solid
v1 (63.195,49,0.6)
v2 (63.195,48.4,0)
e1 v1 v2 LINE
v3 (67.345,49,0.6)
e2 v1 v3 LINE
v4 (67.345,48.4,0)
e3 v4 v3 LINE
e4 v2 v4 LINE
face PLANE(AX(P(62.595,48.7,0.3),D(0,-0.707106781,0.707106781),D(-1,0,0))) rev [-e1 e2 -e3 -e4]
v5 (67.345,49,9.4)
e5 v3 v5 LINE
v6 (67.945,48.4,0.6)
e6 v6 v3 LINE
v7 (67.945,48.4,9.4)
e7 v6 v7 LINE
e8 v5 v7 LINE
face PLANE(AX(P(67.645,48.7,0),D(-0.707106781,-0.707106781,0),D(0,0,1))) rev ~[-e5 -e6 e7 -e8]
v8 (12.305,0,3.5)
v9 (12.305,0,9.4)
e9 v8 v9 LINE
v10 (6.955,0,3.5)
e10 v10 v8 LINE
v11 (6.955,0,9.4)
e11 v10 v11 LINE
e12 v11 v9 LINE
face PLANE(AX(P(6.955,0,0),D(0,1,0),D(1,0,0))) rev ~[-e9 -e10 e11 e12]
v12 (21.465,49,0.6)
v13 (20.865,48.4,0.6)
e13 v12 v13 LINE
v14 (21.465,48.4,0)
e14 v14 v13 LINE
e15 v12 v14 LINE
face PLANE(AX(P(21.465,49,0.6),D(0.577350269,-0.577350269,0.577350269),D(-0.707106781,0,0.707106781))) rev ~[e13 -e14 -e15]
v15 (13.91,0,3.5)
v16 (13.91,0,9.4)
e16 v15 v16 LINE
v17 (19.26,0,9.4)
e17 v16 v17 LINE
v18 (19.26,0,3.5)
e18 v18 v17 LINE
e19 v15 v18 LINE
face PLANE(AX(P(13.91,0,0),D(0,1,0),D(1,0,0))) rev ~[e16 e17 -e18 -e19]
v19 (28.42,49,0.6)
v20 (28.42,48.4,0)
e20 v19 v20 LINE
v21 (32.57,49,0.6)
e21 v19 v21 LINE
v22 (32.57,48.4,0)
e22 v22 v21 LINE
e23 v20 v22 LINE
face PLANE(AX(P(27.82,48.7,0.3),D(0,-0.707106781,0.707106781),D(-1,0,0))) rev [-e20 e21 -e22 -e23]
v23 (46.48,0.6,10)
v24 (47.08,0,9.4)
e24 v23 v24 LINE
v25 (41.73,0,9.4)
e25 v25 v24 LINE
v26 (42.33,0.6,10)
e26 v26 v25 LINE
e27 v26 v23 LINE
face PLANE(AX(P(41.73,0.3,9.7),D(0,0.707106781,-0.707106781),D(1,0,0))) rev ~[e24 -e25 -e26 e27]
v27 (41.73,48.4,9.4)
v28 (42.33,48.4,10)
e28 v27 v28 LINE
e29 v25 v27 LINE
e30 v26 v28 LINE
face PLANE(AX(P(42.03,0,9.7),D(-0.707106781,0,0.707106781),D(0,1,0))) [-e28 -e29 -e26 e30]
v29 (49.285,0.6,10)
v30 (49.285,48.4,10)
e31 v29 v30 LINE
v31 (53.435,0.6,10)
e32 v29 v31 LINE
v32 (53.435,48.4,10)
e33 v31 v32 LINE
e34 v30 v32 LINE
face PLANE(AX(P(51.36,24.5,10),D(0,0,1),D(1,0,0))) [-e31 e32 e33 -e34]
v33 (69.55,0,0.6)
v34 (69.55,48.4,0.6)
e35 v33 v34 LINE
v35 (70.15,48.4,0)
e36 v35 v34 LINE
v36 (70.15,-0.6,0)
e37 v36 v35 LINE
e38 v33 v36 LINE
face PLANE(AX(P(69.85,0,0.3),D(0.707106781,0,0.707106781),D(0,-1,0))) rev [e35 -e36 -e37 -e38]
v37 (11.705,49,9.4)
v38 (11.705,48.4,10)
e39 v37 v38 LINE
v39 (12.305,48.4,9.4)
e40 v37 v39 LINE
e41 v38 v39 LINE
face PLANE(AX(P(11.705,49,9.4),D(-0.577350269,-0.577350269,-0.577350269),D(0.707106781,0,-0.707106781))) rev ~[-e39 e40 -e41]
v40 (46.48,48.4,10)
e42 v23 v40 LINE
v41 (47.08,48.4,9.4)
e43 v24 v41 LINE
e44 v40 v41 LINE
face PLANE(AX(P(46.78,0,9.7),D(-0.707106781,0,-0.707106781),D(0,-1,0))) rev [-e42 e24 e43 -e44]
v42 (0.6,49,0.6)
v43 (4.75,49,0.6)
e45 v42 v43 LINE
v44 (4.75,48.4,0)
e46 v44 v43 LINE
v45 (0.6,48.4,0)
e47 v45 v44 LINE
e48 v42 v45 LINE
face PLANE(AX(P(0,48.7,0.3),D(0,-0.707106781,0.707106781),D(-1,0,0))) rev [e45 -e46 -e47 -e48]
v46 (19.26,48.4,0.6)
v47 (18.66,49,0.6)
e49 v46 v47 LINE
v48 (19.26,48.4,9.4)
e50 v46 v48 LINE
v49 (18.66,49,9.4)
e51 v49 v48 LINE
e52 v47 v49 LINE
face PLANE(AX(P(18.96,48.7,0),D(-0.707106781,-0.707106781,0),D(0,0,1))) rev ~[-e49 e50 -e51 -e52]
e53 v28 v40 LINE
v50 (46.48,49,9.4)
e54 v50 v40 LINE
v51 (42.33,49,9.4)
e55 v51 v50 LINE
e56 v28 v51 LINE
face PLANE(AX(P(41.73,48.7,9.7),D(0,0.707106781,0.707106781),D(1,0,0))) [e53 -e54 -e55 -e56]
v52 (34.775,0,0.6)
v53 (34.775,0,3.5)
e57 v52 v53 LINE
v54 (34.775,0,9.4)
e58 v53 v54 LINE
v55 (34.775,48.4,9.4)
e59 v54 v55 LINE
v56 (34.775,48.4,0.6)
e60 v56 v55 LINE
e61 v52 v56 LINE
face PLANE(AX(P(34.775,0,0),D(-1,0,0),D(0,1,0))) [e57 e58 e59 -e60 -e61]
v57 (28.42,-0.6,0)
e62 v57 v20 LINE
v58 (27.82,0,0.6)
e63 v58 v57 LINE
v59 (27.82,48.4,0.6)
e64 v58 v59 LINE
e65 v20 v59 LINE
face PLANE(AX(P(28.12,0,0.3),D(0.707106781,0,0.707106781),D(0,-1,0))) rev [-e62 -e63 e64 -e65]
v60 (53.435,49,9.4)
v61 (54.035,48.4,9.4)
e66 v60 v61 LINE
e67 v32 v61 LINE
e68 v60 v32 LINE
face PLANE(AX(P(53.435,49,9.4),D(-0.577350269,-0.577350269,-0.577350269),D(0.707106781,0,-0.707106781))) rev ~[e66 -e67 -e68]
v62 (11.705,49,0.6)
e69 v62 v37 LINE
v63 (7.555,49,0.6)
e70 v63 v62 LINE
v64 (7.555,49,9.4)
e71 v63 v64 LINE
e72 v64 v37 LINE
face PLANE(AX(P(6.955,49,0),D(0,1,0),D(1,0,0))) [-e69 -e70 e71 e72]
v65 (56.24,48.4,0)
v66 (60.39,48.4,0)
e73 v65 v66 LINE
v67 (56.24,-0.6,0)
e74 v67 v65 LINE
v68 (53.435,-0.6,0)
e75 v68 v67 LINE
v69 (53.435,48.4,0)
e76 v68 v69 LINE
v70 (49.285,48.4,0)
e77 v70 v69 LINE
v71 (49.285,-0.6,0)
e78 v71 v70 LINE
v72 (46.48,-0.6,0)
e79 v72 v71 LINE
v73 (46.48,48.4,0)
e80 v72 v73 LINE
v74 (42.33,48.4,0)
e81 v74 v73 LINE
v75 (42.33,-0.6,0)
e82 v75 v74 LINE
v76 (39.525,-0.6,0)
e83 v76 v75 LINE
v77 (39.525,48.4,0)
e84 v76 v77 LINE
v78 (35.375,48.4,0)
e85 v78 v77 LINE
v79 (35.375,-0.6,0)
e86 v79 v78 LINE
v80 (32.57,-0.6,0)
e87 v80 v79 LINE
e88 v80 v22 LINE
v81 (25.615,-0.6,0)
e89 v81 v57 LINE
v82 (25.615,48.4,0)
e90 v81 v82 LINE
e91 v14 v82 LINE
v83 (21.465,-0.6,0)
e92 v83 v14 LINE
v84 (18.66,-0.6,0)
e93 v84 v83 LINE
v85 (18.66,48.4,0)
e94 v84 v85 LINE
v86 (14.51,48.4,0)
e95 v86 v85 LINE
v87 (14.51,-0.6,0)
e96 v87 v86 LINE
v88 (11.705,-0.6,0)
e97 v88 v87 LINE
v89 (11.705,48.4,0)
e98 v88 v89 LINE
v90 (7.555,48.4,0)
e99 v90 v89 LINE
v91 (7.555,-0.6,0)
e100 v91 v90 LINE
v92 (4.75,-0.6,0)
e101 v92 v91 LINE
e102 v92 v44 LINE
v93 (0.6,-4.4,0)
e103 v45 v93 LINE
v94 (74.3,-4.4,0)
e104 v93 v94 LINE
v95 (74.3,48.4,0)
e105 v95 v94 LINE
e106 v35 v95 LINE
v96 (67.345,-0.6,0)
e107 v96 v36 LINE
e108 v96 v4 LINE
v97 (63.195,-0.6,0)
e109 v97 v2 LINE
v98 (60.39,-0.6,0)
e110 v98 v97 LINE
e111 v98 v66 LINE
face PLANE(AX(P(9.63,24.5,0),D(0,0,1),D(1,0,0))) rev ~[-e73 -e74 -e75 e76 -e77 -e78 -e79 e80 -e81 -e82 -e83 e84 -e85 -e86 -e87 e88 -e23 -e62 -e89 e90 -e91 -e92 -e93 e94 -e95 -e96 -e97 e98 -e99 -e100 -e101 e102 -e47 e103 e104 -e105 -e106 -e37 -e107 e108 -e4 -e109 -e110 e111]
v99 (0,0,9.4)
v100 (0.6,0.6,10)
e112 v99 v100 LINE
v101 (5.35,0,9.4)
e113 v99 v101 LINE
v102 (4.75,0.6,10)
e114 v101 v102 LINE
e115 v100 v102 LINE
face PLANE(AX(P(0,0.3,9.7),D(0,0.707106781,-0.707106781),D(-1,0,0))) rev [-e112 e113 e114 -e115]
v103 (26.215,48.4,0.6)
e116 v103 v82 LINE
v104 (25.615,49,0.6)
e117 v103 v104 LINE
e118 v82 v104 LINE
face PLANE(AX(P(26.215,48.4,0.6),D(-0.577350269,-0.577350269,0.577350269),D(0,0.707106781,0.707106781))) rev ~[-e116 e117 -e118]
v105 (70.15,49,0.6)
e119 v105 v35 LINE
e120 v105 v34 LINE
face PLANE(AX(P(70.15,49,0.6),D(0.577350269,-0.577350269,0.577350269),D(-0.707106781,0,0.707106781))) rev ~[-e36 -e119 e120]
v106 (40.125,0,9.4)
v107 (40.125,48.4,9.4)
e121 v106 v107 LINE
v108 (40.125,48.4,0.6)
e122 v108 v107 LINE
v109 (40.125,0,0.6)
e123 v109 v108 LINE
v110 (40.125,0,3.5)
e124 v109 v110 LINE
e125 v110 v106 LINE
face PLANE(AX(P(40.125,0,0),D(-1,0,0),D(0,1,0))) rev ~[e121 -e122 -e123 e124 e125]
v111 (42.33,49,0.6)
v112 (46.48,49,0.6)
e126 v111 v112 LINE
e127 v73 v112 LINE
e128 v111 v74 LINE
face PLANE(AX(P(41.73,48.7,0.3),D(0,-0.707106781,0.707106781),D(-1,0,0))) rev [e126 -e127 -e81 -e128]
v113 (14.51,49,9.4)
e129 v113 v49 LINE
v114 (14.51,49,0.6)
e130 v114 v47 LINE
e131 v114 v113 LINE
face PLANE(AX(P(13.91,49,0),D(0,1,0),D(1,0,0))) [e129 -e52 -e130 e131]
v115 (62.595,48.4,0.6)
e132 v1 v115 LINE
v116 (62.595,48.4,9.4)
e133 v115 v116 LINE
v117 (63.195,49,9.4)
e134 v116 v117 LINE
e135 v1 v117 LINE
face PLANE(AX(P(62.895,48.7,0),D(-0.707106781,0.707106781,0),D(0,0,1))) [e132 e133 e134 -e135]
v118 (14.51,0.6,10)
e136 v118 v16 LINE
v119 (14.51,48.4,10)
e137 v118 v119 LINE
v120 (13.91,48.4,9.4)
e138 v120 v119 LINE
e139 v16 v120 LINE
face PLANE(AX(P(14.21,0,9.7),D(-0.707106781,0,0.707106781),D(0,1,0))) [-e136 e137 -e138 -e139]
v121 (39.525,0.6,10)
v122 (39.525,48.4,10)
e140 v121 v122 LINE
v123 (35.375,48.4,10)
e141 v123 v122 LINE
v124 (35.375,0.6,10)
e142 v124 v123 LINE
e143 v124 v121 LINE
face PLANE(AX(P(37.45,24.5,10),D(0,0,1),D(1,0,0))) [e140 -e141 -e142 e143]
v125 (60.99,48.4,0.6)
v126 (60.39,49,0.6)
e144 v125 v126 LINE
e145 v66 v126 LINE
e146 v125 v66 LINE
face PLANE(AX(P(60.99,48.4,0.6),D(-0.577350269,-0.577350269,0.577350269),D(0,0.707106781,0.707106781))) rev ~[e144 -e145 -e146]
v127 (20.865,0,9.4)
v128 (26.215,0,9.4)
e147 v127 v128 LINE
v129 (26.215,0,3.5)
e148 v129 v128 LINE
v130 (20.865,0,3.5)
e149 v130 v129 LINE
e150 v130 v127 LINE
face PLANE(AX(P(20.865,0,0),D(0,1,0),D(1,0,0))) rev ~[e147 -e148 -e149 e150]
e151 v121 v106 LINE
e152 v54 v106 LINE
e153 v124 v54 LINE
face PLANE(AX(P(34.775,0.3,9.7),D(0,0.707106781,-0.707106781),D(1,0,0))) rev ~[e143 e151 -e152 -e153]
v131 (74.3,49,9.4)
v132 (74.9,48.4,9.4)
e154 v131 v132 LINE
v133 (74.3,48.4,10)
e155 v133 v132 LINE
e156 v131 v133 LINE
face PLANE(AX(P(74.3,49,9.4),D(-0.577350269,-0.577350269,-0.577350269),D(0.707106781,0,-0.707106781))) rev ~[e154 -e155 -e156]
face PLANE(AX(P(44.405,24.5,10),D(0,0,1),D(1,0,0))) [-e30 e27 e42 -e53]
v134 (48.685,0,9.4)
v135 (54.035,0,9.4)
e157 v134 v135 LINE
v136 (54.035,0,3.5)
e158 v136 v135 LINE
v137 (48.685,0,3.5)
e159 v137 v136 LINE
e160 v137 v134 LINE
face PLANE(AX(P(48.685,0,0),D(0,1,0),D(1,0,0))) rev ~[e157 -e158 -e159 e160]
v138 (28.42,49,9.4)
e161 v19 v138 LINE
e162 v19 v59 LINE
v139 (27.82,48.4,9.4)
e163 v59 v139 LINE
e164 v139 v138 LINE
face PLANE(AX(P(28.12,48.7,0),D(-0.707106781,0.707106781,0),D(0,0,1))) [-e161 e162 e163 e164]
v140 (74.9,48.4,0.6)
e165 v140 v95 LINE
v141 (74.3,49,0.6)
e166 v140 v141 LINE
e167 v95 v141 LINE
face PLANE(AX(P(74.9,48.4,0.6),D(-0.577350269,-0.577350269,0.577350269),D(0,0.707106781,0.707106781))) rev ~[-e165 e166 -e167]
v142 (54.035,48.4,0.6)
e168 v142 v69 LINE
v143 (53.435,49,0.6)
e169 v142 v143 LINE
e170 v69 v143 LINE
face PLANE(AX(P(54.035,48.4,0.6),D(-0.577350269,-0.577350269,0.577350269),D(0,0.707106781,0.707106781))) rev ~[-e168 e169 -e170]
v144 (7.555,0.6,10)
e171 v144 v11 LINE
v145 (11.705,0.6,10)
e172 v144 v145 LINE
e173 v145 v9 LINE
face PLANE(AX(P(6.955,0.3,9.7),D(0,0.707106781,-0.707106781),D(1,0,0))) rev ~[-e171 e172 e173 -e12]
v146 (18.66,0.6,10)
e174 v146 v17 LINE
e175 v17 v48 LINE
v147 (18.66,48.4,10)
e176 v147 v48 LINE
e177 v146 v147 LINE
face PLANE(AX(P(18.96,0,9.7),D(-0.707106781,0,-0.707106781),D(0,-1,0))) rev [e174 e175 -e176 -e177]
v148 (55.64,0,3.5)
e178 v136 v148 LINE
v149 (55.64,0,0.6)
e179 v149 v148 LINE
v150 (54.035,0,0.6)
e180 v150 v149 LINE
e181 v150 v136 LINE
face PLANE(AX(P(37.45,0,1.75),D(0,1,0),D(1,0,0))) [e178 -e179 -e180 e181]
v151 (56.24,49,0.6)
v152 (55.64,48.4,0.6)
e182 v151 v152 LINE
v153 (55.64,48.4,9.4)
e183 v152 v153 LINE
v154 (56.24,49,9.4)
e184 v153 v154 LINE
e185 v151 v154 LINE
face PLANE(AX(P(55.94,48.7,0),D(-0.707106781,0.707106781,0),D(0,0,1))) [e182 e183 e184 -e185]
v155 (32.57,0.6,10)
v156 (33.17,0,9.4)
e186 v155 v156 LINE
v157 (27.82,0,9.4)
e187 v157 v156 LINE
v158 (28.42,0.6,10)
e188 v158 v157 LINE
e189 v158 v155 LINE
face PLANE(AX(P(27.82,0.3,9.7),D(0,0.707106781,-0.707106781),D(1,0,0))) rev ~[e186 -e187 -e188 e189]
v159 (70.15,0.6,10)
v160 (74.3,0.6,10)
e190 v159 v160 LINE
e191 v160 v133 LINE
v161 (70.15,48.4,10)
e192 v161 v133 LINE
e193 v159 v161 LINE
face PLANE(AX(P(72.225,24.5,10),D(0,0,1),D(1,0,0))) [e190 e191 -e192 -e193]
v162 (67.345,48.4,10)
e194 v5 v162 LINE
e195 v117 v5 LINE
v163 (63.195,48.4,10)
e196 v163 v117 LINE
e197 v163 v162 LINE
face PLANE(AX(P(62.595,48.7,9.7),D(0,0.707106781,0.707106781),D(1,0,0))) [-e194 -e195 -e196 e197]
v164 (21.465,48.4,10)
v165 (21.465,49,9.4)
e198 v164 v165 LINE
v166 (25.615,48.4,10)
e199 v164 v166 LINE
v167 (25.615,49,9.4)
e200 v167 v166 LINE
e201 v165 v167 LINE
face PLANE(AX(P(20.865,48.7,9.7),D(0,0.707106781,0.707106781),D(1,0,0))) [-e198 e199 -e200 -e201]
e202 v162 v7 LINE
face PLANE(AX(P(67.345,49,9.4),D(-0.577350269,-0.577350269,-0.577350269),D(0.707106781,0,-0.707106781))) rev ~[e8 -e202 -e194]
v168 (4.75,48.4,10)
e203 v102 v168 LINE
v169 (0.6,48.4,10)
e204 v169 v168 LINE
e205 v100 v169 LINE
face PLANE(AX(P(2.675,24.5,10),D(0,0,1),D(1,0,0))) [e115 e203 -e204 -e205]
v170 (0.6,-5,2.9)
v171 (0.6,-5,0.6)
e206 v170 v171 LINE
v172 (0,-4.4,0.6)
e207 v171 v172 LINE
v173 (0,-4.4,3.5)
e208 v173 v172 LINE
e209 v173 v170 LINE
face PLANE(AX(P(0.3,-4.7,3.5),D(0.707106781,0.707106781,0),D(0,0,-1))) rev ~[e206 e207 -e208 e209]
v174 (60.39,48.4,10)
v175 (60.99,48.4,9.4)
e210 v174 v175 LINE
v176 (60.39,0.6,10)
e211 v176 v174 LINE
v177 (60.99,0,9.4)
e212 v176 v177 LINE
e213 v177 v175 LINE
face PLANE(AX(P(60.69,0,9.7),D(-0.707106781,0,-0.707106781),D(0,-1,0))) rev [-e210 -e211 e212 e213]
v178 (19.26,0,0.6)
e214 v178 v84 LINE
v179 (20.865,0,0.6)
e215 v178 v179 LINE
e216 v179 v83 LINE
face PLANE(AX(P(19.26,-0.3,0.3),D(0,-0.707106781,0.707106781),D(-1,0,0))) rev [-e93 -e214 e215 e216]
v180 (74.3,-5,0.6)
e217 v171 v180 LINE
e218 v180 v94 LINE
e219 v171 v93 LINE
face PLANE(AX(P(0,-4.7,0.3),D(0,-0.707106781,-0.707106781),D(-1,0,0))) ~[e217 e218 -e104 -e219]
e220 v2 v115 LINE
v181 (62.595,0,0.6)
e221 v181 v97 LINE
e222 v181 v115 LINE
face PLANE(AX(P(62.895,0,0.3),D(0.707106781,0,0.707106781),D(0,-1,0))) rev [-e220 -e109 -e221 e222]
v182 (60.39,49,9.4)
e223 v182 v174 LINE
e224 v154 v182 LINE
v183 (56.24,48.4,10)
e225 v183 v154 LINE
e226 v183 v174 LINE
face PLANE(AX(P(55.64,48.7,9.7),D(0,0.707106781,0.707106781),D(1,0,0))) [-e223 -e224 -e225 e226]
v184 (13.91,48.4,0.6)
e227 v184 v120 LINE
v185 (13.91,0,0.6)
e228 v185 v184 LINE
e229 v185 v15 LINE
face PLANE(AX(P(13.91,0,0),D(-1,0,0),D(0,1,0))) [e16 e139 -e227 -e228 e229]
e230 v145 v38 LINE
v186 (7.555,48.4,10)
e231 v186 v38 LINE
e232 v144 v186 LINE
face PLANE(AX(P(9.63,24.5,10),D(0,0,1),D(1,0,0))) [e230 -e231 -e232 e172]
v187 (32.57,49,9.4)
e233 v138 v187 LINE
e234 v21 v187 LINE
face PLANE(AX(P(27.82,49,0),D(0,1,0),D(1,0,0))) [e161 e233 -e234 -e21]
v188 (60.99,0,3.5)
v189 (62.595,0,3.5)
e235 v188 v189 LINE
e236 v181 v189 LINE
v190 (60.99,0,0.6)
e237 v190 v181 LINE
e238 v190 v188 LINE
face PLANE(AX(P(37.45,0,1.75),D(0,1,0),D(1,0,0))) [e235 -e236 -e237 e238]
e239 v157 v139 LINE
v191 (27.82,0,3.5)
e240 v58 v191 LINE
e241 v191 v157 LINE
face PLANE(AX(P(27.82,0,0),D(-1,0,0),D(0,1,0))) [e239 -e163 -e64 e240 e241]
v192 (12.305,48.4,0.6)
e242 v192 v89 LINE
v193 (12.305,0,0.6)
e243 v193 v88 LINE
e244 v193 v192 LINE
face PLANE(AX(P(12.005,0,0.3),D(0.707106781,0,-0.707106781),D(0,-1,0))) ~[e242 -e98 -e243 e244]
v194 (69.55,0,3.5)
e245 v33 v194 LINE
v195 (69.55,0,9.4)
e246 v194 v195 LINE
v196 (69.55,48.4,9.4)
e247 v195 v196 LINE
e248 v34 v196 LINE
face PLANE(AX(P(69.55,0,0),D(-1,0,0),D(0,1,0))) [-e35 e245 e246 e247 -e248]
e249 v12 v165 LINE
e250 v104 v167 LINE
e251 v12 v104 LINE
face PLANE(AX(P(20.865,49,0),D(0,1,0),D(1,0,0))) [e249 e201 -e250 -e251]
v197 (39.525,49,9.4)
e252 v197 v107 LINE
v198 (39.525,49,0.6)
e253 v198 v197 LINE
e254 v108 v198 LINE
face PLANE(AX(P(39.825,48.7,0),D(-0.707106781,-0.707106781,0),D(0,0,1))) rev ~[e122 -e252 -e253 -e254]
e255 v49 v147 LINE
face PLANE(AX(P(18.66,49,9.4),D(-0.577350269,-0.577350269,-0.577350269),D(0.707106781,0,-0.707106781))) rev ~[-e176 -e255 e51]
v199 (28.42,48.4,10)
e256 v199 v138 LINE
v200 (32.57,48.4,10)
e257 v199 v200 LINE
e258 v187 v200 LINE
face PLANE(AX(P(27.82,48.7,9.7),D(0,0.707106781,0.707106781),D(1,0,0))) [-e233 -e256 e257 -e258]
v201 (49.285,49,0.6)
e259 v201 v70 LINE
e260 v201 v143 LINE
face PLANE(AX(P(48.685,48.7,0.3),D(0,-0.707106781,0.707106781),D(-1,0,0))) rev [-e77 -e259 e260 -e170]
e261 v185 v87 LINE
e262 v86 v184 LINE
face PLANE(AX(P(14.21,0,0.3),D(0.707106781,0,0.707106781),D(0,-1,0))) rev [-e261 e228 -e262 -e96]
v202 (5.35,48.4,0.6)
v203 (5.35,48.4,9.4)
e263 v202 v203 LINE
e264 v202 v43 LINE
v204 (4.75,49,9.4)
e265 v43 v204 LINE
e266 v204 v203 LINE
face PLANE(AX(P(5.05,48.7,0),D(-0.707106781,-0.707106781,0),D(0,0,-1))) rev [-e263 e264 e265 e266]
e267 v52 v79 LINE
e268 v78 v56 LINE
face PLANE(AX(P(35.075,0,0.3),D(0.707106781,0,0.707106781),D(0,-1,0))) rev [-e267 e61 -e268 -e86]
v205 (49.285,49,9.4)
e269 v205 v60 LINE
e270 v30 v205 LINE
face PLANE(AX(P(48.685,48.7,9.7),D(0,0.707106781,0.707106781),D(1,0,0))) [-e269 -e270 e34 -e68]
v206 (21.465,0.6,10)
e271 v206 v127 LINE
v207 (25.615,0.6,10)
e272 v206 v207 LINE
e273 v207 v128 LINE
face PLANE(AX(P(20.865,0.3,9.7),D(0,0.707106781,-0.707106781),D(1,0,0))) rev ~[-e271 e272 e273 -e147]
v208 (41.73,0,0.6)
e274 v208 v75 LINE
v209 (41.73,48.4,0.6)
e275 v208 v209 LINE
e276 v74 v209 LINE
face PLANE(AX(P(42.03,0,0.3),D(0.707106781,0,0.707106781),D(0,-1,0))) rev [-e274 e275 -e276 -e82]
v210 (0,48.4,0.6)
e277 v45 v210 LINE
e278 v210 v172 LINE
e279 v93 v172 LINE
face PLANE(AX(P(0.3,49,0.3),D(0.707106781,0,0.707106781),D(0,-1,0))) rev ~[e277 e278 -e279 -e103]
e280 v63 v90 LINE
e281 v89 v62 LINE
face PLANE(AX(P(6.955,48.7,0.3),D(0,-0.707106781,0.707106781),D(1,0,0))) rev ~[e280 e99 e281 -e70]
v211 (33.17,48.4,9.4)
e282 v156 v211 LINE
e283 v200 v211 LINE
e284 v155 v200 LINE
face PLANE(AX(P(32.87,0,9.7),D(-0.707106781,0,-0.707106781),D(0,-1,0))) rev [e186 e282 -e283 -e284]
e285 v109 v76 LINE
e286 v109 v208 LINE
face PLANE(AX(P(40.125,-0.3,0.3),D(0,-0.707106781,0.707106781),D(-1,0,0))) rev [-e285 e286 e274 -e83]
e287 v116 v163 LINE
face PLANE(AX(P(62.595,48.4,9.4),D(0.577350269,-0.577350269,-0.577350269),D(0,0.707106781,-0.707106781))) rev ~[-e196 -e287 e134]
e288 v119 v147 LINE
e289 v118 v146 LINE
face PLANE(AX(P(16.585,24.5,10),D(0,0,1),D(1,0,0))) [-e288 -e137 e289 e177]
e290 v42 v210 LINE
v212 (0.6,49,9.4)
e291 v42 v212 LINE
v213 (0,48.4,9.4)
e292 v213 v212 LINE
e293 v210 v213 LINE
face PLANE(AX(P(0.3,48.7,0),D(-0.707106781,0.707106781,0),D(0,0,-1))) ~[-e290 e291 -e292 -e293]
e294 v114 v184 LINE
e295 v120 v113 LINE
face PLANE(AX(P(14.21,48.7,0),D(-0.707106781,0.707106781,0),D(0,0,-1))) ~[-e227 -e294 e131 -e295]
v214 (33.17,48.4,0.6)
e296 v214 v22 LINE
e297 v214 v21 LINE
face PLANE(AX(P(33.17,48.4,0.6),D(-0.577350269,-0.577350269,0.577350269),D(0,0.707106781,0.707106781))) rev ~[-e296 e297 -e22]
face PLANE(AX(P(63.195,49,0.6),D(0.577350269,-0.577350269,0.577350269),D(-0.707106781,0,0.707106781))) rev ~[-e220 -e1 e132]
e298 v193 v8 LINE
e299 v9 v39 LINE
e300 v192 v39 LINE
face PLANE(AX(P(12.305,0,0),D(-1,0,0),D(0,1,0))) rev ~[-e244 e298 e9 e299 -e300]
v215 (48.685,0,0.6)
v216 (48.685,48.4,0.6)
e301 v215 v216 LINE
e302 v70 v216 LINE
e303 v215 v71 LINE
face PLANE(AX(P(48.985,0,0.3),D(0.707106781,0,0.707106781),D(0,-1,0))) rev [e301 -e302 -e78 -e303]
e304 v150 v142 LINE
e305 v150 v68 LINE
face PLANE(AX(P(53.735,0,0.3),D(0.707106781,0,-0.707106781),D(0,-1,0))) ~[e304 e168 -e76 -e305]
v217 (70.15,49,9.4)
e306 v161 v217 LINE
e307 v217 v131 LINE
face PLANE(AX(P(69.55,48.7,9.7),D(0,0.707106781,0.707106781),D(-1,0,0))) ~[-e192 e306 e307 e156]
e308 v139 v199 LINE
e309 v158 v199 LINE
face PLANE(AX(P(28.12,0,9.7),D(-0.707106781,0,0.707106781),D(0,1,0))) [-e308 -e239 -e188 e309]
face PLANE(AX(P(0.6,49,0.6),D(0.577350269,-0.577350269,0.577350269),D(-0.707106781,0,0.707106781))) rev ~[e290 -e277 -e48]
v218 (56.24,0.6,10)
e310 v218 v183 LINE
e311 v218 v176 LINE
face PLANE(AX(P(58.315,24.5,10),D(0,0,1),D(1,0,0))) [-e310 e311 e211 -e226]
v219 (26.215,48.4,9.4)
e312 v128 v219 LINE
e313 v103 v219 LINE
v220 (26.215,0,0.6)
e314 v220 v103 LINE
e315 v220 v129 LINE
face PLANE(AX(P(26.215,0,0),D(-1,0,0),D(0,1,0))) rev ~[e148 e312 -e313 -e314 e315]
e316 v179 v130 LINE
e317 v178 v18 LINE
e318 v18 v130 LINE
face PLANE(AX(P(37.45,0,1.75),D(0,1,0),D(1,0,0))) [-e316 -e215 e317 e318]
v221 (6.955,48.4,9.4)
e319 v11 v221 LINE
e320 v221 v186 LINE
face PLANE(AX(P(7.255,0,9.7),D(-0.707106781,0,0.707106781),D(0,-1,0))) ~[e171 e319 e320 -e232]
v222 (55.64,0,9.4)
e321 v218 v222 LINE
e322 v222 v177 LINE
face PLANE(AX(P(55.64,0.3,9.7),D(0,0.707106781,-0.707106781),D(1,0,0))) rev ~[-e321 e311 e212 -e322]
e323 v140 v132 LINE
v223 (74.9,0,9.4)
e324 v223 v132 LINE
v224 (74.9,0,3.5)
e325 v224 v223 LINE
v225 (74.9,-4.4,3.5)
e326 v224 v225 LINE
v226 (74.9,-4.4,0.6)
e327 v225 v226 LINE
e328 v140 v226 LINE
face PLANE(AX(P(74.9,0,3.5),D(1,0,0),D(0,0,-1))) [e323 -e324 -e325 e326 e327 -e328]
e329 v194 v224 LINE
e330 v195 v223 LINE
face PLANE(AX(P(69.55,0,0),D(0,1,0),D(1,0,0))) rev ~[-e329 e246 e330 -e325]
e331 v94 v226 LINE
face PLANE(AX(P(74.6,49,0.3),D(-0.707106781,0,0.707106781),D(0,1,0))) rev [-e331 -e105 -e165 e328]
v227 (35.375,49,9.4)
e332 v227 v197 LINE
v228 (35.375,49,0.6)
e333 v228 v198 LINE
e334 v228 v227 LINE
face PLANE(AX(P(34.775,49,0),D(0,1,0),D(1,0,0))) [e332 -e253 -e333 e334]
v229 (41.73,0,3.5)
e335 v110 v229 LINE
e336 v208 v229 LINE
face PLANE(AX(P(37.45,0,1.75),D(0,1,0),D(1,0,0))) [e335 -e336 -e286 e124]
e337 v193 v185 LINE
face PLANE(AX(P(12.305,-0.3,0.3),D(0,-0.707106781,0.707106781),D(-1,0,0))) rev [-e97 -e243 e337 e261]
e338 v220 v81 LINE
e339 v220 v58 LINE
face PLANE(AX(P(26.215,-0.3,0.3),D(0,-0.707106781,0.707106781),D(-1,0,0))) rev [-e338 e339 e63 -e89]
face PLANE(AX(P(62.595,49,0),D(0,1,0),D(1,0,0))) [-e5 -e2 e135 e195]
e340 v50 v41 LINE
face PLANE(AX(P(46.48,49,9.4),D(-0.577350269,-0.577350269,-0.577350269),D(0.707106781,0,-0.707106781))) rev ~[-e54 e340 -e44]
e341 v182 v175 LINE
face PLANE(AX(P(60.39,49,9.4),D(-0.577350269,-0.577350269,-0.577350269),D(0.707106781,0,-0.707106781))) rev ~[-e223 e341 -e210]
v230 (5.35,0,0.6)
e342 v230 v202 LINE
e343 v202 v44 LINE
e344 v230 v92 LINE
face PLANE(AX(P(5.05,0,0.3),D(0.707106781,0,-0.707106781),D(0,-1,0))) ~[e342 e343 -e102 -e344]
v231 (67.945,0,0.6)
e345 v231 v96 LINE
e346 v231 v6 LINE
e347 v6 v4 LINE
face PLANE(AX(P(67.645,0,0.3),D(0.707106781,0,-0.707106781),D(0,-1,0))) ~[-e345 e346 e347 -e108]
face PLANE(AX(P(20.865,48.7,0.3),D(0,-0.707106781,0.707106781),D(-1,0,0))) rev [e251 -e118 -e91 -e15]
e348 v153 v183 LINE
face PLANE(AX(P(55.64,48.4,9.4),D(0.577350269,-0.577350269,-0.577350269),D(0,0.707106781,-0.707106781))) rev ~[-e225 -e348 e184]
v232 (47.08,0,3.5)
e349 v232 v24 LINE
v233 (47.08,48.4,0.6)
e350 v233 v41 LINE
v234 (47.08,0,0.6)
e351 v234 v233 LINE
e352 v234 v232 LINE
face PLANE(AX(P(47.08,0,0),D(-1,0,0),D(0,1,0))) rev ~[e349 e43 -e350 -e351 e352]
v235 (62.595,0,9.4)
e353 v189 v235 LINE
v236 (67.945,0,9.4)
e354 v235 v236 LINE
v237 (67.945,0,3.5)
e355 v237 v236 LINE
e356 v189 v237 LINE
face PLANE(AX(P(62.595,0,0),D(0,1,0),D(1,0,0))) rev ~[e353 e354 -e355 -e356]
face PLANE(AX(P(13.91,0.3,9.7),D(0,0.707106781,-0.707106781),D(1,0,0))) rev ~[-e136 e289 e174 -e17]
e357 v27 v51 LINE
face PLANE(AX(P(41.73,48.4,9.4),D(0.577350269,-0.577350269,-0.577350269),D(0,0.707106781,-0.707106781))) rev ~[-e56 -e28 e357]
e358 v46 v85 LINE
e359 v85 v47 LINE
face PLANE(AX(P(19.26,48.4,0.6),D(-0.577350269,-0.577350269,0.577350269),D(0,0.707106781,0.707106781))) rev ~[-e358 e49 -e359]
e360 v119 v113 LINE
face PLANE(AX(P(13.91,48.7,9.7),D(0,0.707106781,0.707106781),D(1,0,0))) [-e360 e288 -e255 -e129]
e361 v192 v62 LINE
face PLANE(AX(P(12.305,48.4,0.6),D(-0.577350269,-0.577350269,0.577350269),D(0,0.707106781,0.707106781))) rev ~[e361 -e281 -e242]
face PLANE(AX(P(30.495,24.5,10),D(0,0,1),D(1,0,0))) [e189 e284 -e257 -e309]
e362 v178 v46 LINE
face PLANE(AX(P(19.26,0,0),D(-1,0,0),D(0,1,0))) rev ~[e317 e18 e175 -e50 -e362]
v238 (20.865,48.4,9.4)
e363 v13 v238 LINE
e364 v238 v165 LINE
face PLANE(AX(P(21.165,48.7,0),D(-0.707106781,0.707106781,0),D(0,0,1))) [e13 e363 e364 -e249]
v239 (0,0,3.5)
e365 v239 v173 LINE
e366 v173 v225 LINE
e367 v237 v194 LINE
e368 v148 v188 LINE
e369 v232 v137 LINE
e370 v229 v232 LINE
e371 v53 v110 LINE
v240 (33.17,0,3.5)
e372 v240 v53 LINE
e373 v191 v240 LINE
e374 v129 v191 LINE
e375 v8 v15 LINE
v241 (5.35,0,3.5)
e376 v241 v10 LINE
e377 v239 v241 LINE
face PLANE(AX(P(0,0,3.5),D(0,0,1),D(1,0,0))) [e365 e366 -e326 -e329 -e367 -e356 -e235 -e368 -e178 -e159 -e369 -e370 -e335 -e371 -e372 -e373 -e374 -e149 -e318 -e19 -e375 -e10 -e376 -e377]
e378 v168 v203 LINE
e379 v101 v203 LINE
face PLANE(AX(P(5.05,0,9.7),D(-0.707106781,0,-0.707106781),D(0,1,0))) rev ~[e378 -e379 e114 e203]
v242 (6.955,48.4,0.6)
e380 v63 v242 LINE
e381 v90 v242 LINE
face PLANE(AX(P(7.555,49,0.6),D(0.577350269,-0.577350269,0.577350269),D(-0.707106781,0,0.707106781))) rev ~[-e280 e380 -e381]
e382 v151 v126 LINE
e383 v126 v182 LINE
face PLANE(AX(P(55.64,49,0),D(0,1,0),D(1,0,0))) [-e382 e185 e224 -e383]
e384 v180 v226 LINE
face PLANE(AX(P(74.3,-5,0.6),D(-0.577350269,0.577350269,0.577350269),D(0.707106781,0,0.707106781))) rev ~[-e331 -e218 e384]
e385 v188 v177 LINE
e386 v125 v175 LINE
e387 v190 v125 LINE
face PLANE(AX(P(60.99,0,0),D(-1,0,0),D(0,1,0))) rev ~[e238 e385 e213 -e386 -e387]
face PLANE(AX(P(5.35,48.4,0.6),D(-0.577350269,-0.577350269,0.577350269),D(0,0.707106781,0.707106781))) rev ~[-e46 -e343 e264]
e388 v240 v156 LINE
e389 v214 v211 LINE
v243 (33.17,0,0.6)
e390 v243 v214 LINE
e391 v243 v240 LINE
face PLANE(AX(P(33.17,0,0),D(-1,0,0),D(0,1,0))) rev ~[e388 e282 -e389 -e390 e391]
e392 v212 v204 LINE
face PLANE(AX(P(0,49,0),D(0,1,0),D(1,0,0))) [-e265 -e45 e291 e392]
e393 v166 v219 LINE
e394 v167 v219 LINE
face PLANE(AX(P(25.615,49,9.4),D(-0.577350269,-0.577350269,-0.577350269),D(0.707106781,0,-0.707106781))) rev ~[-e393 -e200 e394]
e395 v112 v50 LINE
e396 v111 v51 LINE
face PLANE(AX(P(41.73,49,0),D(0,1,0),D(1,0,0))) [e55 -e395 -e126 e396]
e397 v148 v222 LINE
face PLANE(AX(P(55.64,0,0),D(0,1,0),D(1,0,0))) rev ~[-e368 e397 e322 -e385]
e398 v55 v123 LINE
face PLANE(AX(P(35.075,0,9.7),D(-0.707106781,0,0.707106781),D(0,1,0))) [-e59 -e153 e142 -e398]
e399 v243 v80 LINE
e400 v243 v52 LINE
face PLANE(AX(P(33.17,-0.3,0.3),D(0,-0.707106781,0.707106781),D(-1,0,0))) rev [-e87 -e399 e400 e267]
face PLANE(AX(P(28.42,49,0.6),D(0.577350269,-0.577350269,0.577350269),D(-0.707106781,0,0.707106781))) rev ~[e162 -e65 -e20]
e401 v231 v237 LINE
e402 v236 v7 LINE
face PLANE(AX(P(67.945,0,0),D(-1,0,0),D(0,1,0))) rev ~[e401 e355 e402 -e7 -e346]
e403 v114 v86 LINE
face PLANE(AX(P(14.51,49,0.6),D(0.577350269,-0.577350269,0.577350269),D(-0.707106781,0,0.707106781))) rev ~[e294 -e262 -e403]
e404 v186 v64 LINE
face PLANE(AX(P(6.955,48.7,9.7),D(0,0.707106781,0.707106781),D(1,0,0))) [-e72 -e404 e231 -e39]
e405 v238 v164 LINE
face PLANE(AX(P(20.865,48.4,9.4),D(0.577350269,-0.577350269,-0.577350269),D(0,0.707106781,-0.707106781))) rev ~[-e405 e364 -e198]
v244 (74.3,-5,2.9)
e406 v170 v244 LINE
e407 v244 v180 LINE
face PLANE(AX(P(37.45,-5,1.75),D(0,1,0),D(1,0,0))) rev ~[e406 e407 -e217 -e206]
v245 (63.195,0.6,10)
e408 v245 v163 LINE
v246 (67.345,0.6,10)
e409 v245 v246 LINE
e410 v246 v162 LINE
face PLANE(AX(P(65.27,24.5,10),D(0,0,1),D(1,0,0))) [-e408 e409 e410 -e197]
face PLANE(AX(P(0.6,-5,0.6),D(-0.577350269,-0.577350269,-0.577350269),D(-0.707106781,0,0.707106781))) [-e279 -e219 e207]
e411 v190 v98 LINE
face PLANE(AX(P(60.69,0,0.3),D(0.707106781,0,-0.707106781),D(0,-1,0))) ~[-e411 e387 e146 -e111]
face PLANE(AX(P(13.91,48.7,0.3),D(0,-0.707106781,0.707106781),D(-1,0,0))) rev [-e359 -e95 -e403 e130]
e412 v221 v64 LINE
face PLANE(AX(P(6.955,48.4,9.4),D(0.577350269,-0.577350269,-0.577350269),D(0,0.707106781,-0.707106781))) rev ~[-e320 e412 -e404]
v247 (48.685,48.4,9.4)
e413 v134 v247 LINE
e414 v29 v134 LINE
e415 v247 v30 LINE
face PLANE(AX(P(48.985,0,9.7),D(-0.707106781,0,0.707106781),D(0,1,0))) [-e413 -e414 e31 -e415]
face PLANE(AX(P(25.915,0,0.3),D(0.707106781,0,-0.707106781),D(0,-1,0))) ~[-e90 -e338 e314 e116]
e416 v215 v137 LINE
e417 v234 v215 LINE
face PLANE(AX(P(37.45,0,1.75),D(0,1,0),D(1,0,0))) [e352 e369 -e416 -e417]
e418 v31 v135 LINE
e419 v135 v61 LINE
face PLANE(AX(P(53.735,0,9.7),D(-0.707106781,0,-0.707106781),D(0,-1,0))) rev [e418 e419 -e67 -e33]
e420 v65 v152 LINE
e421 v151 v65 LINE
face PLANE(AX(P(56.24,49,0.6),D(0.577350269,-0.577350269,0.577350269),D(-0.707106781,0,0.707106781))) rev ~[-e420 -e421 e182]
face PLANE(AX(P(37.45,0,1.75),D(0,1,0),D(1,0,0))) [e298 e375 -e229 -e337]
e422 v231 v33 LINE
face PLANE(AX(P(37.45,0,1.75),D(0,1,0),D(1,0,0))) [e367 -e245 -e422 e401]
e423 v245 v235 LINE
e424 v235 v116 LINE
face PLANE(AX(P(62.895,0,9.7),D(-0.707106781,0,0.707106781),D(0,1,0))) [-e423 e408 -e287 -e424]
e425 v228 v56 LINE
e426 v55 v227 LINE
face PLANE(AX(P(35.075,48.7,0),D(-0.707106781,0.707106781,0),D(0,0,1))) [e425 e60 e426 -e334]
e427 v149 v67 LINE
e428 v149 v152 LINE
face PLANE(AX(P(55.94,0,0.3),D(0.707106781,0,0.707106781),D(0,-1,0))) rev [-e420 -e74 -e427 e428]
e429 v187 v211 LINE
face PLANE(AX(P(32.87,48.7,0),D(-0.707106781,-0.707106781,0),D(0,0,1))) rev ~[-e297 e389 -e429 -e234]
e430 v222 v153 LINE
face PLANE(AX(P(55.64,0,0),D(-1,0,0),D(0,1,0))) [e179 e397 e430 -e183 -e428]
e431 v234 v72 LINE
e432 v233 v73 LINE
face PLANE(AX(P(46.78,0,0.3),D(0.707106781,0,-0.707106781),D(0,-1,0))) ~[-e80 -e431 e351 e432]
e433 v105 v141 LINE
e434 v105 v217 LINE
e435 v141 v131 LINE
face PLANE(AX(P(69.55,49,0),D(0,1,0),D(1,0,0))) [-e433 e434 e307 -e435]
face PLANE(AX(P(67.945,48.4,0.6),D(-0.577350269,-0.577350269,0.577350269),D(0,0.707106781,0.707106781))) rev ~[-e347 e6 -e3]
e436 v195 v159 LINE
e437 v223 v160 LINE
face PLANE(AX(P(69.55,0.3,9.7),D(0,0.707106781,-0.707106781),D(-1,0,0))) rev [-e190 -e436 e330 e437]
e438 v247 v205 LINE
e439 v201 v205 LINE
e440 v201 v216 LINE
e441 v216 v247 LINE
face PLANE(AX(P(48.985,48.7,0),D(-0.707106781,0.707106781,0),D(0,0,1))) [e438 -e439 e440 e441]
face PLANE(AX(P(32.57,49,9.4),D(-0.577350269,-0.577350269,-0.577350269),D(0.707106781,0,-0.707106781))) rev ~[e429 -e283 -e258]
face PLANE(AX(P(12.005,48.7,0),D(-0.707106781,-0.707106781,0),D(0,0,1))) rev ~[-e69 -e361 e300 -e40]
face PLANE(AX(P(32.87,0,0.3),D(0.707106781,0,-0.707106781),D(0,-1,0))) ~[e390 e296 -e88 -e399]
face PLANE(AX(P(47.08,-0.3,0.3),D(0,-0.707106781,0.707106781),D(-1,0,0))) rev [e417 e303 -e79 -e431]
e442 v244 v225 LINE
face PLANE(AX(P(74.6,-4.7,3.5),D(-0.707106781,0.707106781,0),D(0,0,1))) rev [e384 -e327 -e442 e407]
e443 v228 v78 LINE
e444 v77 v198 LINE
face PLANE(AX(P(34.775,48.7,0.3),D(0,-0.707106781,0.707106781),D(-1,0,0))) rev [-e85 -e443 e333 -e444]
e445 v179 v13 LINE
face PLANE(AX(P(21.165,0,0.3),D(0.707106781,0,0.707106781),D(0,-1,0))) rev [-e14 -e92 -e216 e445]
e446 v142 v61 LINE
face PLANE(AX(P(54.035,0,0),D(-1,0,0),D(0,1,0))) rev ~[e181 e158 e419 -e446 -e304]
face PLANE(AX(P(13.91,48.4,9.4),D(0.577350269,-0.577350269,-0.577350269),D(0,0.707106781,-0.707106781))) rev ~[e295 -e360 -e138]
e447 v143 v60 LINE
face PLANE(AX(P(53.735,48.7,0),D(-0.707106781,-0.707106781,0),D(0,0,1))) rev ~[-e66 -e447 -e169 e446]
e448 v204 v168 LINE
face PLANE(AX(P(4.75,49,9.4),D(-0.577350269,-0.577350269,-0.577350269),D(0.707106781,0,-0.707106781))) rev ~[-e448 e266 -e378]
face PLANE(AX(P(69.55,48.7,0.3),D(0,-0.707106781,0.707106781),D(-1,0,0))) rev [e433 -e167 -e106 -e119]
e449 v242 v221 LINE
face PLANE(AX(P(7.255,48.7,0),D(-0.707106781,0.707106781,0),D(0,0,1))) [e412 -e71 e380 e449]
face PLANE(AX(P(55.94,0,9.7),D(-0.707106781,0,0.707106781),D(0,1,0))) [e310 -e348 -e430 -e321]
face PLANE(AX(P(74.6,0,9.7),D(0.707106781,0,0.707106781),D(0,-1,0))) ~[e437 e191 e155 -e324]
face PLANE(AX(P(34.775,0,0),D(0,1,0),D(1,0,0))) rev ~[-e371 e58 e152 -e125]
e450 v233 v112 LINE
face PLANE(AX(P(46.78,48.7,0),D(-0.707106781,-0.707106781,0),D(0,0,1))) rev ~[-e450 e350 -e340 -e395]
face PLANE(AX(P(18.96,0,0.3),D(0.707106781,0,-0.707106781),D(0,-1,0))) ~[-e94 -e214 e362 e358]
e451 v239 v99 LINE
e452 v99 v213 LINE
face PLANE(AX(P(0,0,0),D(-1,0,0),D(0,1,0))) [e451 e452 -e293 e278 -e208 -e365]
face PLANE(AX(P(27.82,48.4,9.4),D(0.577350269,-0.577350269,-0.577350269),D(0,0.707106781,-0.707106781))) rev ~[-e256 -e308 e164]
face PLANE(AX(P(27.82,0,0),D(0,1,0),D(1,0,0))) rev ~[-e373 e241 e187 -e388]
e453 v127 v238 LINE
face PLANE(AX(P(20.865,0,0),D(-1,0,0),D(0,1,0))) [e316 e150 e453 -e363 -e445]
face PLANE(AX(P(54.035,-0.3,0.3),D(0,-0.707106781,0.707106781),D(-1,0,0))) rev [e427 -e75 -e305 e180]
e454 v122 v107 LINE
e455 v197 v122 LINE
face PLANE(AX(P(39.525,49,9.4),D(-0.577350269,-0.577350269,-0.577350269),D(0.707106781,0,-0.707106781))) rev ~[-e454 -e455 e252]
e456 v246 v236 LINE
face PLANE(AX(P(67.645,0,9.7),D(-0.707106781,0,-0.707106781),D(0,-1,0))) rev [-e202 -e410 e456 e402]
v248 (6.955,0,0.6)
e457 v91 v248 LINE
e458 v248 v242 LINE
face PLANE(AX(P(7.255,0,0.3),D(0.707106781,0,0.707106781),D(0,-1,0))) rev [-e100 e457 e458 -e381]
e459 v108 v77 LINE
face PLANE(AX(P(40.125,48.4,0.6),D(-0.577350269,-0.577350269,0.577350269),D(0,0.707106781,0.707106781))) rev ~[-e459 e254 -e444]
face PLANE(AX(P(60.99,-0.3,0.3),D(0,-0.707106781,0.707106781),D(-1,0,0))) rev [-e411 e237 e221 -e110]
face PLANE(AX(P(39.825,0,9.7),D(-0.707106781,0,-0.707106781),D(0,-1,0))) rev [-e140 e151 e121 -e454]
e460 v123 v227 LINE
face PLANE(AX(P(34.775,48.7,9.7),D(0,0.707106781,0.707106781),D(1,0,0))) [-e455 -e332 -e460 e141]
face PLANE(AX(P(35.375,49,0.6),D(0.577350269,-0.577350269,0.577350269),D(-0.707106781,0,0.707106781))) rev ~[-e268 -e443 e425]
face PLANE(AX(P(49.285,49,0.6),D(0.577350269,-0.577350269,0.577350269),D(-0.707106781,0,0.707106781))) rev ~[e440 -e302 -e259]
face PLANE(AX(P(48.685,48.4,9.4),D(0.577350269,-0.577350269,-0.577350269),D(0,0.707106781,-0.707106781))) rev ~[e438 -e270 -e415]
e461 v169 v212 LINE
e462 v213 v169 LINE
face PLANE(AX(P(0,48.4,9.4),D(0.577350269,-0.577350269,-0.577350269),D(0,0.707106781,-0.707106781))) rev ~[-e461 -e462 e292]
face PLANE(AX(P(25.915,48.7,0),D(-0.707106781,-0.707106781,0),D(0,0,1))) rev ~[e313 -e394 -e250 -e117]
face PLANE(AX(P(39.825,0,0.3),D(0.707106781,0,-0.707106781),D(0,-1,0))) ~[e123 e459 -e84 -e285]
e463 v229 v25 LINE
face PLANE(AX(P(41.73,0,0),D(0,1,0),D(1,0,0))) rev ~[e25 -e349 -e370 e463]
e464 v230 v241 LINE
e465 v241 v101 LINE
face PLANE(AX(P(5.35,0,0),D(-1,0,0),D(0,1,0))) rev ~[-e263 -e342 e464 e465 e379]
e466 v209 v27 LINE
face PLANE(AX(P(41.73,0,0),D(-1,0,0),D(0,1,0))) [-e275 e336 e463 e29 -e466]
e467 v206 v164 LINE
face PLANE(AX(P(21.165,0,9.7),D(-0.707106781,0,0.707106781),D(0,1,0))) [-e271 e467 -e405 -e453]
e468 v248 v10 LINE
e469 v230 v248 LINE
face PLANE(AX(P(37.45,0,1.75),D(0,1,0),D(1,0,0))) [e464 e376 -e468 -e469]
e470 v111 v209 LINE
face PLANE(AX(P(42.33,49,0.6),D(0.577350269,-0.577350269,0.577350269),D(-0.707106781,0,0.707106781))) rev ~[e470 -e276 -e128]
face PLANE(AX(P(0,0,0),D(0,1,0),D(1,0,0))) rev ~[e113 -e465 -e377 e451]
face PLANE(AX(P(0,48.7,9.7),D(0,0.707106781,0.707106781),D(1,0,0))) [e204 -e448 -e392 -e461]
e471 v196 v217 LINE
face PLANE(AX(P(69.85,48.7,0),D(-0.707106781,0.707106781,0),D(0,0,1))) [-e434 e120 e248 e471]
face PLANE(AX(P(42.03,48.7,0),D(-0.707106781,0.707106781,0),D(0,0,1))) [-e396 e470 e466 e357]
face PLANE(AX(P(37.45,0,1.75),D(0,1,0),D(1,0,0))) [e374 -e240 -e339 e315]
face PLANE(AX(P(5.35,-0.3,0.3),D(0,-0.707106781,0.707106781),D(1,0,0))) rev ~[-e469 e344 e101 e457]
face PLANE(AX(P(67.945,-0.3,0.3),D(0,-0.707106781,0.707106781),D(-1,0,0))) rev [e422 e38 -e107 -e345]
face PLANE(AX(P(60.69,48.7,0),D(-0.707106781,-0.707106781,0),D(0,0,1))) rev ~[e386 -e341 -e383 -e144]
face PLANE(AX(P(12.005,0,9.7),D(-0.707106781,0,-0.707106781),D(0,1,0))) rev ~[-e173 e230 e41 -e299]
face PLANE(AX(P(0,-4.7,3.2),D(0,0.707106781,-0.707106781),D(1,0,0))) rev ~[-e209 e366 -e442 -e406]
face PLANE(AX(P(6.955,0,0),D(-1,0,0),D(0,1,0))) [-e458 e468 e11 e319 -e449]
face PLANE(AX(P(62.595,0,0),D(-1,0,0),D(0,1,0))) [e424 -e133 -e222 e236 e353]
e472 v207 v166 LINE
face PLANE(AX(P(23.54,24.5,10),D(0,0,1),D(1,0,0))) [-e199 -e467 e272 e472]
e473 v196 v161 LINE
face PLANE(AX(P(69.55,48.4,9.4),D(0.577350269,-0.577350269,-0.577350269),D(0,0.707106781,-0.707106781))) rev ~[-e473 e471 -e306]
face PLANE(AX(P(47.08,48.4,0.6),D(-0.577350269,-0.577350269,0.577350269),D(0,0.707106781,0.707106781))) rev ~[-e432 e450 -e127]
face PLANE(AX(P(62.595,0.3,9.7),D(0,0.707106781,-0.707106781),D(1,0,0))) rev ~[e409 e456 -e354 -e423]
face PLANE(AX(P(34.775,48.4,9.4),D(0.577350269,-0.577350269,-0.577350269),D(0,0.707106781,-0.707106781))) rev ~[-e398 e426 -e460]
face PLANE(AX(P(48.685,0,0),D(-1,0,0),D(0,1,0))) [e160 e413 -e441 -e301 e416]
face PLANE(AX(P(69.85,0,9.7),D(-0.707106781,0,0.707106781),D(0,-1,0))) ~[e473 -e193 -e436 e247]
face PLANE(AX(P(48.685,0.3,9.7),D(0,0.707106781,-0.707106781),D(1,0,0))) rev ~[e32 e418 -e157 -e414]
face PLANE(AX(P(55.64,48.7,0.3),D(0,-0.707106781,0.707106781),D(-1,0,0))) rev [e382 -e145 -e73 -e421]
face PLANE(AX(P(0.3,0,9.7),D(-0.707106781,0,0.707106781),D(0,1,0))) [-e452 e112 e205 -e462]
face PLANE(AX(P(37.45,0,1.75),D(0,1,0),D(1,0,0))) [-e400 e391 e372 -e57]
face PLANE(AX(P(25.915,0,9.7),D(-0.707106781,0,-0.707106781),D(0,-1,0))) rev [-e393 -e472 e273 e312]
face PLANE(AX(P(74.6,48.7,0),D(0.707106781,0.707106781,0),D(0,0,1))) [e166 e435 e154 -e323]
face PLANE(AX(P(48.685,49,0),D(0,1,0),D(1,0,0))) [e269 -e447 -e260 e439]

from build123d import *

# Parameters (mm, degrees)
SKETCH015_W             = 74.9
SKETCH015_H             = 3.5
PAD002_DEPTH            = 5
SKETCH017_W             = 5.35
SKETCH017_H             = 49
PAD003_DEPTH            = 10
LINEARPATTERN004_COUNT  = 11
LINEARPATTERN004_PITCH  = 6.955
CHAMFER_SIZE            = 0.6
BODY002_PLACEMENT_ANGLE = 90


with BuildPart() as part:
    # Sketch015 → Pad002 (new body)
    with BuildSketch(Plane.XY):
        with Locations((37.45, -1.75)):
            Rectangle(SKETCH015_W, SKETCH015_H)
    extrude(amount=-PAD002_DEPTH)

    # Sketch017 → Pad003 (join)
    with BuildSketch(Plane.XZ):
        with Locations((2.675, 24.5)):
            Rectangle(SKETCH017_W, SKETCH017_H)
    pad003 = extrude(amount=PAD003_DEPTH)

    # LinearPattern004: Pad003 ×11
    with Locations(*[(i * LINEARPATTERN004_PITCH, 0, 0) for i in range(1, LINEARPATTERN004_COUNT)]):
        add(pad003)

    # Chamfer
    chamfer_edges = [part.edges().sort_by_distance(p)[0] for p in [
        (2.675, -10, 0),
        (5.35, -10, 24.5),
        (2.675, -10, 49),
        (0, -10, 24.5),
        (9.63, -10, 0),
        (12.305, -10, 24.5),
        (9.63, -10, 49),
        (6.955, -10, 24.5),
        (16.585, -10, 0),
        (19.26, -10, 24.5),
        (16.585, -10, 49),
        (13.91, -10, 24.5),
        (23.54, -10, 0),
        (26.215, -10, 24.5),
        (23.54, -10, 49),
        (20.865, -10, 24.5),
        (30.495, -10, 0),
        (33.17, -10, 24.5),
        (30.495, -10, 49),
        (27.82, -10, 24.5),
        (37.45, -10, 0),
        (40.125, -10, 24.5),
        (37.45, -10, 49),
        (34.775, -10, 24.5),
        (44.405, -10, 0),
        (47.08, -10, 24.5),
        (44.405, -10, 49),
        (41.73, -10, 24.5),
        (51.36, -10, 0),
        (54.035, -10, 24.5),
        (51.36, -10, 49),
        (48.685, -10, 24.5),
        (58.315, -10, 0),
        (60.99, -10, 24.5),
        (58.315, -10, 49),
        (55.64, -10, 24.5),
        (65.27, -10, 0),
        (67.945, -10, 24.5),
        (65.27, -10, 49),
        (62.595, -10, 24.5),
        (72.225, -10, 0),
        (74.9, -10, 24.5),
        (72.225, -10, 49),
        (69.55, -10, 24.5),
        (0, 0, 22),
        (2.675, 0, 49),
        (5.35, 0, 24.5),
        (6.1525, 0, 0),
        (6.955, 0, 24.5),
        (9.63, 0, 49),
        (12.305, 0, 24.5),
        (13.1075, 0, 0),
        (13.91, 0, 24.5),
        (16.585, 0, 49),
        (19.26, 0, 24.5),
        (20.0625, 0, 0),
        (20.865, 0, 24.5),
        (23.54, 0, 49),
        (26.215, 0, 24.5),
        (27.0175, 0, 0),
        (27.82, 0, 24.5),
        (30.495, 0, 49),
        (33.17, 0, 24.5),
        (33.9725, 0, 0),
        (34.775, 0, 24.5),
        (37.45, 0, 49),
        (40.125, 0, 24.5),
        (40.9275, 0, 0),
        (41.73, 0, 24.5),
        (44.405, 0, 49),
        (47.08, 0, 24.5),
        (47.8825, 0, 0),
        (48.685, 0, 24.5),
        (51.36, 0, 49),
        (54.035, 0, 24.5),
        (54.8375, 0, 0),
        (55.64, 0, 24.5),
        (58.315, 0, 49),
        (60.99, 0, 24.5),
        (61.7925, 0, 0),
        (62.595, 0, 24.5),
        (65.27, 0, 49),
        (67.945, 0, 24.5),
        (68.7475, 0, 0),
        (69.55, 0, 24.5),
        (72.225, 0, 49),
        (74.9, 0, 22),
        (37.45, 0, -5),
        (5.35, -5, 49),
        (0, -5, 49),
        (12.305, -5, 49),
        (6.955, -5, 49),
        (19.26, -5, 49),
        (13.91, -5, 49),
        (26.215, -5, 49),
        (20.865, -5, 49),
        (33.17, -5, 49),
        (27.82, -5, 49),
        (40.125, -5, 49),
        (34.775, -5, 49),
        (47.08, -5, 49),
        (41.73, -5, 49),
        (54.035, -5, 49),
        (48.685, -5, 49),
        (60.99, -5, 49),
        (55.64, -5, 49),
        (67.945, -5, 49),
        (62.595, -5, 49),
        (74.9, -5, 49),
        (69.55, -5, 49),
        (74.9, -1.75, -5),
        (37.45, -3.5, -5),
        (0, -1.75, -5),
    ]]
    chamfer(chamfer_edges, length=CHAMFER_SIZE)


with BuildPart() as part_1:
    # Body002 placement: moved
    add(part.part.rotate(Axis((0, 0, 0), (-1, 0, 0)), BODY002_PLACEMENT_ANGLE))


solid = part_1.part
